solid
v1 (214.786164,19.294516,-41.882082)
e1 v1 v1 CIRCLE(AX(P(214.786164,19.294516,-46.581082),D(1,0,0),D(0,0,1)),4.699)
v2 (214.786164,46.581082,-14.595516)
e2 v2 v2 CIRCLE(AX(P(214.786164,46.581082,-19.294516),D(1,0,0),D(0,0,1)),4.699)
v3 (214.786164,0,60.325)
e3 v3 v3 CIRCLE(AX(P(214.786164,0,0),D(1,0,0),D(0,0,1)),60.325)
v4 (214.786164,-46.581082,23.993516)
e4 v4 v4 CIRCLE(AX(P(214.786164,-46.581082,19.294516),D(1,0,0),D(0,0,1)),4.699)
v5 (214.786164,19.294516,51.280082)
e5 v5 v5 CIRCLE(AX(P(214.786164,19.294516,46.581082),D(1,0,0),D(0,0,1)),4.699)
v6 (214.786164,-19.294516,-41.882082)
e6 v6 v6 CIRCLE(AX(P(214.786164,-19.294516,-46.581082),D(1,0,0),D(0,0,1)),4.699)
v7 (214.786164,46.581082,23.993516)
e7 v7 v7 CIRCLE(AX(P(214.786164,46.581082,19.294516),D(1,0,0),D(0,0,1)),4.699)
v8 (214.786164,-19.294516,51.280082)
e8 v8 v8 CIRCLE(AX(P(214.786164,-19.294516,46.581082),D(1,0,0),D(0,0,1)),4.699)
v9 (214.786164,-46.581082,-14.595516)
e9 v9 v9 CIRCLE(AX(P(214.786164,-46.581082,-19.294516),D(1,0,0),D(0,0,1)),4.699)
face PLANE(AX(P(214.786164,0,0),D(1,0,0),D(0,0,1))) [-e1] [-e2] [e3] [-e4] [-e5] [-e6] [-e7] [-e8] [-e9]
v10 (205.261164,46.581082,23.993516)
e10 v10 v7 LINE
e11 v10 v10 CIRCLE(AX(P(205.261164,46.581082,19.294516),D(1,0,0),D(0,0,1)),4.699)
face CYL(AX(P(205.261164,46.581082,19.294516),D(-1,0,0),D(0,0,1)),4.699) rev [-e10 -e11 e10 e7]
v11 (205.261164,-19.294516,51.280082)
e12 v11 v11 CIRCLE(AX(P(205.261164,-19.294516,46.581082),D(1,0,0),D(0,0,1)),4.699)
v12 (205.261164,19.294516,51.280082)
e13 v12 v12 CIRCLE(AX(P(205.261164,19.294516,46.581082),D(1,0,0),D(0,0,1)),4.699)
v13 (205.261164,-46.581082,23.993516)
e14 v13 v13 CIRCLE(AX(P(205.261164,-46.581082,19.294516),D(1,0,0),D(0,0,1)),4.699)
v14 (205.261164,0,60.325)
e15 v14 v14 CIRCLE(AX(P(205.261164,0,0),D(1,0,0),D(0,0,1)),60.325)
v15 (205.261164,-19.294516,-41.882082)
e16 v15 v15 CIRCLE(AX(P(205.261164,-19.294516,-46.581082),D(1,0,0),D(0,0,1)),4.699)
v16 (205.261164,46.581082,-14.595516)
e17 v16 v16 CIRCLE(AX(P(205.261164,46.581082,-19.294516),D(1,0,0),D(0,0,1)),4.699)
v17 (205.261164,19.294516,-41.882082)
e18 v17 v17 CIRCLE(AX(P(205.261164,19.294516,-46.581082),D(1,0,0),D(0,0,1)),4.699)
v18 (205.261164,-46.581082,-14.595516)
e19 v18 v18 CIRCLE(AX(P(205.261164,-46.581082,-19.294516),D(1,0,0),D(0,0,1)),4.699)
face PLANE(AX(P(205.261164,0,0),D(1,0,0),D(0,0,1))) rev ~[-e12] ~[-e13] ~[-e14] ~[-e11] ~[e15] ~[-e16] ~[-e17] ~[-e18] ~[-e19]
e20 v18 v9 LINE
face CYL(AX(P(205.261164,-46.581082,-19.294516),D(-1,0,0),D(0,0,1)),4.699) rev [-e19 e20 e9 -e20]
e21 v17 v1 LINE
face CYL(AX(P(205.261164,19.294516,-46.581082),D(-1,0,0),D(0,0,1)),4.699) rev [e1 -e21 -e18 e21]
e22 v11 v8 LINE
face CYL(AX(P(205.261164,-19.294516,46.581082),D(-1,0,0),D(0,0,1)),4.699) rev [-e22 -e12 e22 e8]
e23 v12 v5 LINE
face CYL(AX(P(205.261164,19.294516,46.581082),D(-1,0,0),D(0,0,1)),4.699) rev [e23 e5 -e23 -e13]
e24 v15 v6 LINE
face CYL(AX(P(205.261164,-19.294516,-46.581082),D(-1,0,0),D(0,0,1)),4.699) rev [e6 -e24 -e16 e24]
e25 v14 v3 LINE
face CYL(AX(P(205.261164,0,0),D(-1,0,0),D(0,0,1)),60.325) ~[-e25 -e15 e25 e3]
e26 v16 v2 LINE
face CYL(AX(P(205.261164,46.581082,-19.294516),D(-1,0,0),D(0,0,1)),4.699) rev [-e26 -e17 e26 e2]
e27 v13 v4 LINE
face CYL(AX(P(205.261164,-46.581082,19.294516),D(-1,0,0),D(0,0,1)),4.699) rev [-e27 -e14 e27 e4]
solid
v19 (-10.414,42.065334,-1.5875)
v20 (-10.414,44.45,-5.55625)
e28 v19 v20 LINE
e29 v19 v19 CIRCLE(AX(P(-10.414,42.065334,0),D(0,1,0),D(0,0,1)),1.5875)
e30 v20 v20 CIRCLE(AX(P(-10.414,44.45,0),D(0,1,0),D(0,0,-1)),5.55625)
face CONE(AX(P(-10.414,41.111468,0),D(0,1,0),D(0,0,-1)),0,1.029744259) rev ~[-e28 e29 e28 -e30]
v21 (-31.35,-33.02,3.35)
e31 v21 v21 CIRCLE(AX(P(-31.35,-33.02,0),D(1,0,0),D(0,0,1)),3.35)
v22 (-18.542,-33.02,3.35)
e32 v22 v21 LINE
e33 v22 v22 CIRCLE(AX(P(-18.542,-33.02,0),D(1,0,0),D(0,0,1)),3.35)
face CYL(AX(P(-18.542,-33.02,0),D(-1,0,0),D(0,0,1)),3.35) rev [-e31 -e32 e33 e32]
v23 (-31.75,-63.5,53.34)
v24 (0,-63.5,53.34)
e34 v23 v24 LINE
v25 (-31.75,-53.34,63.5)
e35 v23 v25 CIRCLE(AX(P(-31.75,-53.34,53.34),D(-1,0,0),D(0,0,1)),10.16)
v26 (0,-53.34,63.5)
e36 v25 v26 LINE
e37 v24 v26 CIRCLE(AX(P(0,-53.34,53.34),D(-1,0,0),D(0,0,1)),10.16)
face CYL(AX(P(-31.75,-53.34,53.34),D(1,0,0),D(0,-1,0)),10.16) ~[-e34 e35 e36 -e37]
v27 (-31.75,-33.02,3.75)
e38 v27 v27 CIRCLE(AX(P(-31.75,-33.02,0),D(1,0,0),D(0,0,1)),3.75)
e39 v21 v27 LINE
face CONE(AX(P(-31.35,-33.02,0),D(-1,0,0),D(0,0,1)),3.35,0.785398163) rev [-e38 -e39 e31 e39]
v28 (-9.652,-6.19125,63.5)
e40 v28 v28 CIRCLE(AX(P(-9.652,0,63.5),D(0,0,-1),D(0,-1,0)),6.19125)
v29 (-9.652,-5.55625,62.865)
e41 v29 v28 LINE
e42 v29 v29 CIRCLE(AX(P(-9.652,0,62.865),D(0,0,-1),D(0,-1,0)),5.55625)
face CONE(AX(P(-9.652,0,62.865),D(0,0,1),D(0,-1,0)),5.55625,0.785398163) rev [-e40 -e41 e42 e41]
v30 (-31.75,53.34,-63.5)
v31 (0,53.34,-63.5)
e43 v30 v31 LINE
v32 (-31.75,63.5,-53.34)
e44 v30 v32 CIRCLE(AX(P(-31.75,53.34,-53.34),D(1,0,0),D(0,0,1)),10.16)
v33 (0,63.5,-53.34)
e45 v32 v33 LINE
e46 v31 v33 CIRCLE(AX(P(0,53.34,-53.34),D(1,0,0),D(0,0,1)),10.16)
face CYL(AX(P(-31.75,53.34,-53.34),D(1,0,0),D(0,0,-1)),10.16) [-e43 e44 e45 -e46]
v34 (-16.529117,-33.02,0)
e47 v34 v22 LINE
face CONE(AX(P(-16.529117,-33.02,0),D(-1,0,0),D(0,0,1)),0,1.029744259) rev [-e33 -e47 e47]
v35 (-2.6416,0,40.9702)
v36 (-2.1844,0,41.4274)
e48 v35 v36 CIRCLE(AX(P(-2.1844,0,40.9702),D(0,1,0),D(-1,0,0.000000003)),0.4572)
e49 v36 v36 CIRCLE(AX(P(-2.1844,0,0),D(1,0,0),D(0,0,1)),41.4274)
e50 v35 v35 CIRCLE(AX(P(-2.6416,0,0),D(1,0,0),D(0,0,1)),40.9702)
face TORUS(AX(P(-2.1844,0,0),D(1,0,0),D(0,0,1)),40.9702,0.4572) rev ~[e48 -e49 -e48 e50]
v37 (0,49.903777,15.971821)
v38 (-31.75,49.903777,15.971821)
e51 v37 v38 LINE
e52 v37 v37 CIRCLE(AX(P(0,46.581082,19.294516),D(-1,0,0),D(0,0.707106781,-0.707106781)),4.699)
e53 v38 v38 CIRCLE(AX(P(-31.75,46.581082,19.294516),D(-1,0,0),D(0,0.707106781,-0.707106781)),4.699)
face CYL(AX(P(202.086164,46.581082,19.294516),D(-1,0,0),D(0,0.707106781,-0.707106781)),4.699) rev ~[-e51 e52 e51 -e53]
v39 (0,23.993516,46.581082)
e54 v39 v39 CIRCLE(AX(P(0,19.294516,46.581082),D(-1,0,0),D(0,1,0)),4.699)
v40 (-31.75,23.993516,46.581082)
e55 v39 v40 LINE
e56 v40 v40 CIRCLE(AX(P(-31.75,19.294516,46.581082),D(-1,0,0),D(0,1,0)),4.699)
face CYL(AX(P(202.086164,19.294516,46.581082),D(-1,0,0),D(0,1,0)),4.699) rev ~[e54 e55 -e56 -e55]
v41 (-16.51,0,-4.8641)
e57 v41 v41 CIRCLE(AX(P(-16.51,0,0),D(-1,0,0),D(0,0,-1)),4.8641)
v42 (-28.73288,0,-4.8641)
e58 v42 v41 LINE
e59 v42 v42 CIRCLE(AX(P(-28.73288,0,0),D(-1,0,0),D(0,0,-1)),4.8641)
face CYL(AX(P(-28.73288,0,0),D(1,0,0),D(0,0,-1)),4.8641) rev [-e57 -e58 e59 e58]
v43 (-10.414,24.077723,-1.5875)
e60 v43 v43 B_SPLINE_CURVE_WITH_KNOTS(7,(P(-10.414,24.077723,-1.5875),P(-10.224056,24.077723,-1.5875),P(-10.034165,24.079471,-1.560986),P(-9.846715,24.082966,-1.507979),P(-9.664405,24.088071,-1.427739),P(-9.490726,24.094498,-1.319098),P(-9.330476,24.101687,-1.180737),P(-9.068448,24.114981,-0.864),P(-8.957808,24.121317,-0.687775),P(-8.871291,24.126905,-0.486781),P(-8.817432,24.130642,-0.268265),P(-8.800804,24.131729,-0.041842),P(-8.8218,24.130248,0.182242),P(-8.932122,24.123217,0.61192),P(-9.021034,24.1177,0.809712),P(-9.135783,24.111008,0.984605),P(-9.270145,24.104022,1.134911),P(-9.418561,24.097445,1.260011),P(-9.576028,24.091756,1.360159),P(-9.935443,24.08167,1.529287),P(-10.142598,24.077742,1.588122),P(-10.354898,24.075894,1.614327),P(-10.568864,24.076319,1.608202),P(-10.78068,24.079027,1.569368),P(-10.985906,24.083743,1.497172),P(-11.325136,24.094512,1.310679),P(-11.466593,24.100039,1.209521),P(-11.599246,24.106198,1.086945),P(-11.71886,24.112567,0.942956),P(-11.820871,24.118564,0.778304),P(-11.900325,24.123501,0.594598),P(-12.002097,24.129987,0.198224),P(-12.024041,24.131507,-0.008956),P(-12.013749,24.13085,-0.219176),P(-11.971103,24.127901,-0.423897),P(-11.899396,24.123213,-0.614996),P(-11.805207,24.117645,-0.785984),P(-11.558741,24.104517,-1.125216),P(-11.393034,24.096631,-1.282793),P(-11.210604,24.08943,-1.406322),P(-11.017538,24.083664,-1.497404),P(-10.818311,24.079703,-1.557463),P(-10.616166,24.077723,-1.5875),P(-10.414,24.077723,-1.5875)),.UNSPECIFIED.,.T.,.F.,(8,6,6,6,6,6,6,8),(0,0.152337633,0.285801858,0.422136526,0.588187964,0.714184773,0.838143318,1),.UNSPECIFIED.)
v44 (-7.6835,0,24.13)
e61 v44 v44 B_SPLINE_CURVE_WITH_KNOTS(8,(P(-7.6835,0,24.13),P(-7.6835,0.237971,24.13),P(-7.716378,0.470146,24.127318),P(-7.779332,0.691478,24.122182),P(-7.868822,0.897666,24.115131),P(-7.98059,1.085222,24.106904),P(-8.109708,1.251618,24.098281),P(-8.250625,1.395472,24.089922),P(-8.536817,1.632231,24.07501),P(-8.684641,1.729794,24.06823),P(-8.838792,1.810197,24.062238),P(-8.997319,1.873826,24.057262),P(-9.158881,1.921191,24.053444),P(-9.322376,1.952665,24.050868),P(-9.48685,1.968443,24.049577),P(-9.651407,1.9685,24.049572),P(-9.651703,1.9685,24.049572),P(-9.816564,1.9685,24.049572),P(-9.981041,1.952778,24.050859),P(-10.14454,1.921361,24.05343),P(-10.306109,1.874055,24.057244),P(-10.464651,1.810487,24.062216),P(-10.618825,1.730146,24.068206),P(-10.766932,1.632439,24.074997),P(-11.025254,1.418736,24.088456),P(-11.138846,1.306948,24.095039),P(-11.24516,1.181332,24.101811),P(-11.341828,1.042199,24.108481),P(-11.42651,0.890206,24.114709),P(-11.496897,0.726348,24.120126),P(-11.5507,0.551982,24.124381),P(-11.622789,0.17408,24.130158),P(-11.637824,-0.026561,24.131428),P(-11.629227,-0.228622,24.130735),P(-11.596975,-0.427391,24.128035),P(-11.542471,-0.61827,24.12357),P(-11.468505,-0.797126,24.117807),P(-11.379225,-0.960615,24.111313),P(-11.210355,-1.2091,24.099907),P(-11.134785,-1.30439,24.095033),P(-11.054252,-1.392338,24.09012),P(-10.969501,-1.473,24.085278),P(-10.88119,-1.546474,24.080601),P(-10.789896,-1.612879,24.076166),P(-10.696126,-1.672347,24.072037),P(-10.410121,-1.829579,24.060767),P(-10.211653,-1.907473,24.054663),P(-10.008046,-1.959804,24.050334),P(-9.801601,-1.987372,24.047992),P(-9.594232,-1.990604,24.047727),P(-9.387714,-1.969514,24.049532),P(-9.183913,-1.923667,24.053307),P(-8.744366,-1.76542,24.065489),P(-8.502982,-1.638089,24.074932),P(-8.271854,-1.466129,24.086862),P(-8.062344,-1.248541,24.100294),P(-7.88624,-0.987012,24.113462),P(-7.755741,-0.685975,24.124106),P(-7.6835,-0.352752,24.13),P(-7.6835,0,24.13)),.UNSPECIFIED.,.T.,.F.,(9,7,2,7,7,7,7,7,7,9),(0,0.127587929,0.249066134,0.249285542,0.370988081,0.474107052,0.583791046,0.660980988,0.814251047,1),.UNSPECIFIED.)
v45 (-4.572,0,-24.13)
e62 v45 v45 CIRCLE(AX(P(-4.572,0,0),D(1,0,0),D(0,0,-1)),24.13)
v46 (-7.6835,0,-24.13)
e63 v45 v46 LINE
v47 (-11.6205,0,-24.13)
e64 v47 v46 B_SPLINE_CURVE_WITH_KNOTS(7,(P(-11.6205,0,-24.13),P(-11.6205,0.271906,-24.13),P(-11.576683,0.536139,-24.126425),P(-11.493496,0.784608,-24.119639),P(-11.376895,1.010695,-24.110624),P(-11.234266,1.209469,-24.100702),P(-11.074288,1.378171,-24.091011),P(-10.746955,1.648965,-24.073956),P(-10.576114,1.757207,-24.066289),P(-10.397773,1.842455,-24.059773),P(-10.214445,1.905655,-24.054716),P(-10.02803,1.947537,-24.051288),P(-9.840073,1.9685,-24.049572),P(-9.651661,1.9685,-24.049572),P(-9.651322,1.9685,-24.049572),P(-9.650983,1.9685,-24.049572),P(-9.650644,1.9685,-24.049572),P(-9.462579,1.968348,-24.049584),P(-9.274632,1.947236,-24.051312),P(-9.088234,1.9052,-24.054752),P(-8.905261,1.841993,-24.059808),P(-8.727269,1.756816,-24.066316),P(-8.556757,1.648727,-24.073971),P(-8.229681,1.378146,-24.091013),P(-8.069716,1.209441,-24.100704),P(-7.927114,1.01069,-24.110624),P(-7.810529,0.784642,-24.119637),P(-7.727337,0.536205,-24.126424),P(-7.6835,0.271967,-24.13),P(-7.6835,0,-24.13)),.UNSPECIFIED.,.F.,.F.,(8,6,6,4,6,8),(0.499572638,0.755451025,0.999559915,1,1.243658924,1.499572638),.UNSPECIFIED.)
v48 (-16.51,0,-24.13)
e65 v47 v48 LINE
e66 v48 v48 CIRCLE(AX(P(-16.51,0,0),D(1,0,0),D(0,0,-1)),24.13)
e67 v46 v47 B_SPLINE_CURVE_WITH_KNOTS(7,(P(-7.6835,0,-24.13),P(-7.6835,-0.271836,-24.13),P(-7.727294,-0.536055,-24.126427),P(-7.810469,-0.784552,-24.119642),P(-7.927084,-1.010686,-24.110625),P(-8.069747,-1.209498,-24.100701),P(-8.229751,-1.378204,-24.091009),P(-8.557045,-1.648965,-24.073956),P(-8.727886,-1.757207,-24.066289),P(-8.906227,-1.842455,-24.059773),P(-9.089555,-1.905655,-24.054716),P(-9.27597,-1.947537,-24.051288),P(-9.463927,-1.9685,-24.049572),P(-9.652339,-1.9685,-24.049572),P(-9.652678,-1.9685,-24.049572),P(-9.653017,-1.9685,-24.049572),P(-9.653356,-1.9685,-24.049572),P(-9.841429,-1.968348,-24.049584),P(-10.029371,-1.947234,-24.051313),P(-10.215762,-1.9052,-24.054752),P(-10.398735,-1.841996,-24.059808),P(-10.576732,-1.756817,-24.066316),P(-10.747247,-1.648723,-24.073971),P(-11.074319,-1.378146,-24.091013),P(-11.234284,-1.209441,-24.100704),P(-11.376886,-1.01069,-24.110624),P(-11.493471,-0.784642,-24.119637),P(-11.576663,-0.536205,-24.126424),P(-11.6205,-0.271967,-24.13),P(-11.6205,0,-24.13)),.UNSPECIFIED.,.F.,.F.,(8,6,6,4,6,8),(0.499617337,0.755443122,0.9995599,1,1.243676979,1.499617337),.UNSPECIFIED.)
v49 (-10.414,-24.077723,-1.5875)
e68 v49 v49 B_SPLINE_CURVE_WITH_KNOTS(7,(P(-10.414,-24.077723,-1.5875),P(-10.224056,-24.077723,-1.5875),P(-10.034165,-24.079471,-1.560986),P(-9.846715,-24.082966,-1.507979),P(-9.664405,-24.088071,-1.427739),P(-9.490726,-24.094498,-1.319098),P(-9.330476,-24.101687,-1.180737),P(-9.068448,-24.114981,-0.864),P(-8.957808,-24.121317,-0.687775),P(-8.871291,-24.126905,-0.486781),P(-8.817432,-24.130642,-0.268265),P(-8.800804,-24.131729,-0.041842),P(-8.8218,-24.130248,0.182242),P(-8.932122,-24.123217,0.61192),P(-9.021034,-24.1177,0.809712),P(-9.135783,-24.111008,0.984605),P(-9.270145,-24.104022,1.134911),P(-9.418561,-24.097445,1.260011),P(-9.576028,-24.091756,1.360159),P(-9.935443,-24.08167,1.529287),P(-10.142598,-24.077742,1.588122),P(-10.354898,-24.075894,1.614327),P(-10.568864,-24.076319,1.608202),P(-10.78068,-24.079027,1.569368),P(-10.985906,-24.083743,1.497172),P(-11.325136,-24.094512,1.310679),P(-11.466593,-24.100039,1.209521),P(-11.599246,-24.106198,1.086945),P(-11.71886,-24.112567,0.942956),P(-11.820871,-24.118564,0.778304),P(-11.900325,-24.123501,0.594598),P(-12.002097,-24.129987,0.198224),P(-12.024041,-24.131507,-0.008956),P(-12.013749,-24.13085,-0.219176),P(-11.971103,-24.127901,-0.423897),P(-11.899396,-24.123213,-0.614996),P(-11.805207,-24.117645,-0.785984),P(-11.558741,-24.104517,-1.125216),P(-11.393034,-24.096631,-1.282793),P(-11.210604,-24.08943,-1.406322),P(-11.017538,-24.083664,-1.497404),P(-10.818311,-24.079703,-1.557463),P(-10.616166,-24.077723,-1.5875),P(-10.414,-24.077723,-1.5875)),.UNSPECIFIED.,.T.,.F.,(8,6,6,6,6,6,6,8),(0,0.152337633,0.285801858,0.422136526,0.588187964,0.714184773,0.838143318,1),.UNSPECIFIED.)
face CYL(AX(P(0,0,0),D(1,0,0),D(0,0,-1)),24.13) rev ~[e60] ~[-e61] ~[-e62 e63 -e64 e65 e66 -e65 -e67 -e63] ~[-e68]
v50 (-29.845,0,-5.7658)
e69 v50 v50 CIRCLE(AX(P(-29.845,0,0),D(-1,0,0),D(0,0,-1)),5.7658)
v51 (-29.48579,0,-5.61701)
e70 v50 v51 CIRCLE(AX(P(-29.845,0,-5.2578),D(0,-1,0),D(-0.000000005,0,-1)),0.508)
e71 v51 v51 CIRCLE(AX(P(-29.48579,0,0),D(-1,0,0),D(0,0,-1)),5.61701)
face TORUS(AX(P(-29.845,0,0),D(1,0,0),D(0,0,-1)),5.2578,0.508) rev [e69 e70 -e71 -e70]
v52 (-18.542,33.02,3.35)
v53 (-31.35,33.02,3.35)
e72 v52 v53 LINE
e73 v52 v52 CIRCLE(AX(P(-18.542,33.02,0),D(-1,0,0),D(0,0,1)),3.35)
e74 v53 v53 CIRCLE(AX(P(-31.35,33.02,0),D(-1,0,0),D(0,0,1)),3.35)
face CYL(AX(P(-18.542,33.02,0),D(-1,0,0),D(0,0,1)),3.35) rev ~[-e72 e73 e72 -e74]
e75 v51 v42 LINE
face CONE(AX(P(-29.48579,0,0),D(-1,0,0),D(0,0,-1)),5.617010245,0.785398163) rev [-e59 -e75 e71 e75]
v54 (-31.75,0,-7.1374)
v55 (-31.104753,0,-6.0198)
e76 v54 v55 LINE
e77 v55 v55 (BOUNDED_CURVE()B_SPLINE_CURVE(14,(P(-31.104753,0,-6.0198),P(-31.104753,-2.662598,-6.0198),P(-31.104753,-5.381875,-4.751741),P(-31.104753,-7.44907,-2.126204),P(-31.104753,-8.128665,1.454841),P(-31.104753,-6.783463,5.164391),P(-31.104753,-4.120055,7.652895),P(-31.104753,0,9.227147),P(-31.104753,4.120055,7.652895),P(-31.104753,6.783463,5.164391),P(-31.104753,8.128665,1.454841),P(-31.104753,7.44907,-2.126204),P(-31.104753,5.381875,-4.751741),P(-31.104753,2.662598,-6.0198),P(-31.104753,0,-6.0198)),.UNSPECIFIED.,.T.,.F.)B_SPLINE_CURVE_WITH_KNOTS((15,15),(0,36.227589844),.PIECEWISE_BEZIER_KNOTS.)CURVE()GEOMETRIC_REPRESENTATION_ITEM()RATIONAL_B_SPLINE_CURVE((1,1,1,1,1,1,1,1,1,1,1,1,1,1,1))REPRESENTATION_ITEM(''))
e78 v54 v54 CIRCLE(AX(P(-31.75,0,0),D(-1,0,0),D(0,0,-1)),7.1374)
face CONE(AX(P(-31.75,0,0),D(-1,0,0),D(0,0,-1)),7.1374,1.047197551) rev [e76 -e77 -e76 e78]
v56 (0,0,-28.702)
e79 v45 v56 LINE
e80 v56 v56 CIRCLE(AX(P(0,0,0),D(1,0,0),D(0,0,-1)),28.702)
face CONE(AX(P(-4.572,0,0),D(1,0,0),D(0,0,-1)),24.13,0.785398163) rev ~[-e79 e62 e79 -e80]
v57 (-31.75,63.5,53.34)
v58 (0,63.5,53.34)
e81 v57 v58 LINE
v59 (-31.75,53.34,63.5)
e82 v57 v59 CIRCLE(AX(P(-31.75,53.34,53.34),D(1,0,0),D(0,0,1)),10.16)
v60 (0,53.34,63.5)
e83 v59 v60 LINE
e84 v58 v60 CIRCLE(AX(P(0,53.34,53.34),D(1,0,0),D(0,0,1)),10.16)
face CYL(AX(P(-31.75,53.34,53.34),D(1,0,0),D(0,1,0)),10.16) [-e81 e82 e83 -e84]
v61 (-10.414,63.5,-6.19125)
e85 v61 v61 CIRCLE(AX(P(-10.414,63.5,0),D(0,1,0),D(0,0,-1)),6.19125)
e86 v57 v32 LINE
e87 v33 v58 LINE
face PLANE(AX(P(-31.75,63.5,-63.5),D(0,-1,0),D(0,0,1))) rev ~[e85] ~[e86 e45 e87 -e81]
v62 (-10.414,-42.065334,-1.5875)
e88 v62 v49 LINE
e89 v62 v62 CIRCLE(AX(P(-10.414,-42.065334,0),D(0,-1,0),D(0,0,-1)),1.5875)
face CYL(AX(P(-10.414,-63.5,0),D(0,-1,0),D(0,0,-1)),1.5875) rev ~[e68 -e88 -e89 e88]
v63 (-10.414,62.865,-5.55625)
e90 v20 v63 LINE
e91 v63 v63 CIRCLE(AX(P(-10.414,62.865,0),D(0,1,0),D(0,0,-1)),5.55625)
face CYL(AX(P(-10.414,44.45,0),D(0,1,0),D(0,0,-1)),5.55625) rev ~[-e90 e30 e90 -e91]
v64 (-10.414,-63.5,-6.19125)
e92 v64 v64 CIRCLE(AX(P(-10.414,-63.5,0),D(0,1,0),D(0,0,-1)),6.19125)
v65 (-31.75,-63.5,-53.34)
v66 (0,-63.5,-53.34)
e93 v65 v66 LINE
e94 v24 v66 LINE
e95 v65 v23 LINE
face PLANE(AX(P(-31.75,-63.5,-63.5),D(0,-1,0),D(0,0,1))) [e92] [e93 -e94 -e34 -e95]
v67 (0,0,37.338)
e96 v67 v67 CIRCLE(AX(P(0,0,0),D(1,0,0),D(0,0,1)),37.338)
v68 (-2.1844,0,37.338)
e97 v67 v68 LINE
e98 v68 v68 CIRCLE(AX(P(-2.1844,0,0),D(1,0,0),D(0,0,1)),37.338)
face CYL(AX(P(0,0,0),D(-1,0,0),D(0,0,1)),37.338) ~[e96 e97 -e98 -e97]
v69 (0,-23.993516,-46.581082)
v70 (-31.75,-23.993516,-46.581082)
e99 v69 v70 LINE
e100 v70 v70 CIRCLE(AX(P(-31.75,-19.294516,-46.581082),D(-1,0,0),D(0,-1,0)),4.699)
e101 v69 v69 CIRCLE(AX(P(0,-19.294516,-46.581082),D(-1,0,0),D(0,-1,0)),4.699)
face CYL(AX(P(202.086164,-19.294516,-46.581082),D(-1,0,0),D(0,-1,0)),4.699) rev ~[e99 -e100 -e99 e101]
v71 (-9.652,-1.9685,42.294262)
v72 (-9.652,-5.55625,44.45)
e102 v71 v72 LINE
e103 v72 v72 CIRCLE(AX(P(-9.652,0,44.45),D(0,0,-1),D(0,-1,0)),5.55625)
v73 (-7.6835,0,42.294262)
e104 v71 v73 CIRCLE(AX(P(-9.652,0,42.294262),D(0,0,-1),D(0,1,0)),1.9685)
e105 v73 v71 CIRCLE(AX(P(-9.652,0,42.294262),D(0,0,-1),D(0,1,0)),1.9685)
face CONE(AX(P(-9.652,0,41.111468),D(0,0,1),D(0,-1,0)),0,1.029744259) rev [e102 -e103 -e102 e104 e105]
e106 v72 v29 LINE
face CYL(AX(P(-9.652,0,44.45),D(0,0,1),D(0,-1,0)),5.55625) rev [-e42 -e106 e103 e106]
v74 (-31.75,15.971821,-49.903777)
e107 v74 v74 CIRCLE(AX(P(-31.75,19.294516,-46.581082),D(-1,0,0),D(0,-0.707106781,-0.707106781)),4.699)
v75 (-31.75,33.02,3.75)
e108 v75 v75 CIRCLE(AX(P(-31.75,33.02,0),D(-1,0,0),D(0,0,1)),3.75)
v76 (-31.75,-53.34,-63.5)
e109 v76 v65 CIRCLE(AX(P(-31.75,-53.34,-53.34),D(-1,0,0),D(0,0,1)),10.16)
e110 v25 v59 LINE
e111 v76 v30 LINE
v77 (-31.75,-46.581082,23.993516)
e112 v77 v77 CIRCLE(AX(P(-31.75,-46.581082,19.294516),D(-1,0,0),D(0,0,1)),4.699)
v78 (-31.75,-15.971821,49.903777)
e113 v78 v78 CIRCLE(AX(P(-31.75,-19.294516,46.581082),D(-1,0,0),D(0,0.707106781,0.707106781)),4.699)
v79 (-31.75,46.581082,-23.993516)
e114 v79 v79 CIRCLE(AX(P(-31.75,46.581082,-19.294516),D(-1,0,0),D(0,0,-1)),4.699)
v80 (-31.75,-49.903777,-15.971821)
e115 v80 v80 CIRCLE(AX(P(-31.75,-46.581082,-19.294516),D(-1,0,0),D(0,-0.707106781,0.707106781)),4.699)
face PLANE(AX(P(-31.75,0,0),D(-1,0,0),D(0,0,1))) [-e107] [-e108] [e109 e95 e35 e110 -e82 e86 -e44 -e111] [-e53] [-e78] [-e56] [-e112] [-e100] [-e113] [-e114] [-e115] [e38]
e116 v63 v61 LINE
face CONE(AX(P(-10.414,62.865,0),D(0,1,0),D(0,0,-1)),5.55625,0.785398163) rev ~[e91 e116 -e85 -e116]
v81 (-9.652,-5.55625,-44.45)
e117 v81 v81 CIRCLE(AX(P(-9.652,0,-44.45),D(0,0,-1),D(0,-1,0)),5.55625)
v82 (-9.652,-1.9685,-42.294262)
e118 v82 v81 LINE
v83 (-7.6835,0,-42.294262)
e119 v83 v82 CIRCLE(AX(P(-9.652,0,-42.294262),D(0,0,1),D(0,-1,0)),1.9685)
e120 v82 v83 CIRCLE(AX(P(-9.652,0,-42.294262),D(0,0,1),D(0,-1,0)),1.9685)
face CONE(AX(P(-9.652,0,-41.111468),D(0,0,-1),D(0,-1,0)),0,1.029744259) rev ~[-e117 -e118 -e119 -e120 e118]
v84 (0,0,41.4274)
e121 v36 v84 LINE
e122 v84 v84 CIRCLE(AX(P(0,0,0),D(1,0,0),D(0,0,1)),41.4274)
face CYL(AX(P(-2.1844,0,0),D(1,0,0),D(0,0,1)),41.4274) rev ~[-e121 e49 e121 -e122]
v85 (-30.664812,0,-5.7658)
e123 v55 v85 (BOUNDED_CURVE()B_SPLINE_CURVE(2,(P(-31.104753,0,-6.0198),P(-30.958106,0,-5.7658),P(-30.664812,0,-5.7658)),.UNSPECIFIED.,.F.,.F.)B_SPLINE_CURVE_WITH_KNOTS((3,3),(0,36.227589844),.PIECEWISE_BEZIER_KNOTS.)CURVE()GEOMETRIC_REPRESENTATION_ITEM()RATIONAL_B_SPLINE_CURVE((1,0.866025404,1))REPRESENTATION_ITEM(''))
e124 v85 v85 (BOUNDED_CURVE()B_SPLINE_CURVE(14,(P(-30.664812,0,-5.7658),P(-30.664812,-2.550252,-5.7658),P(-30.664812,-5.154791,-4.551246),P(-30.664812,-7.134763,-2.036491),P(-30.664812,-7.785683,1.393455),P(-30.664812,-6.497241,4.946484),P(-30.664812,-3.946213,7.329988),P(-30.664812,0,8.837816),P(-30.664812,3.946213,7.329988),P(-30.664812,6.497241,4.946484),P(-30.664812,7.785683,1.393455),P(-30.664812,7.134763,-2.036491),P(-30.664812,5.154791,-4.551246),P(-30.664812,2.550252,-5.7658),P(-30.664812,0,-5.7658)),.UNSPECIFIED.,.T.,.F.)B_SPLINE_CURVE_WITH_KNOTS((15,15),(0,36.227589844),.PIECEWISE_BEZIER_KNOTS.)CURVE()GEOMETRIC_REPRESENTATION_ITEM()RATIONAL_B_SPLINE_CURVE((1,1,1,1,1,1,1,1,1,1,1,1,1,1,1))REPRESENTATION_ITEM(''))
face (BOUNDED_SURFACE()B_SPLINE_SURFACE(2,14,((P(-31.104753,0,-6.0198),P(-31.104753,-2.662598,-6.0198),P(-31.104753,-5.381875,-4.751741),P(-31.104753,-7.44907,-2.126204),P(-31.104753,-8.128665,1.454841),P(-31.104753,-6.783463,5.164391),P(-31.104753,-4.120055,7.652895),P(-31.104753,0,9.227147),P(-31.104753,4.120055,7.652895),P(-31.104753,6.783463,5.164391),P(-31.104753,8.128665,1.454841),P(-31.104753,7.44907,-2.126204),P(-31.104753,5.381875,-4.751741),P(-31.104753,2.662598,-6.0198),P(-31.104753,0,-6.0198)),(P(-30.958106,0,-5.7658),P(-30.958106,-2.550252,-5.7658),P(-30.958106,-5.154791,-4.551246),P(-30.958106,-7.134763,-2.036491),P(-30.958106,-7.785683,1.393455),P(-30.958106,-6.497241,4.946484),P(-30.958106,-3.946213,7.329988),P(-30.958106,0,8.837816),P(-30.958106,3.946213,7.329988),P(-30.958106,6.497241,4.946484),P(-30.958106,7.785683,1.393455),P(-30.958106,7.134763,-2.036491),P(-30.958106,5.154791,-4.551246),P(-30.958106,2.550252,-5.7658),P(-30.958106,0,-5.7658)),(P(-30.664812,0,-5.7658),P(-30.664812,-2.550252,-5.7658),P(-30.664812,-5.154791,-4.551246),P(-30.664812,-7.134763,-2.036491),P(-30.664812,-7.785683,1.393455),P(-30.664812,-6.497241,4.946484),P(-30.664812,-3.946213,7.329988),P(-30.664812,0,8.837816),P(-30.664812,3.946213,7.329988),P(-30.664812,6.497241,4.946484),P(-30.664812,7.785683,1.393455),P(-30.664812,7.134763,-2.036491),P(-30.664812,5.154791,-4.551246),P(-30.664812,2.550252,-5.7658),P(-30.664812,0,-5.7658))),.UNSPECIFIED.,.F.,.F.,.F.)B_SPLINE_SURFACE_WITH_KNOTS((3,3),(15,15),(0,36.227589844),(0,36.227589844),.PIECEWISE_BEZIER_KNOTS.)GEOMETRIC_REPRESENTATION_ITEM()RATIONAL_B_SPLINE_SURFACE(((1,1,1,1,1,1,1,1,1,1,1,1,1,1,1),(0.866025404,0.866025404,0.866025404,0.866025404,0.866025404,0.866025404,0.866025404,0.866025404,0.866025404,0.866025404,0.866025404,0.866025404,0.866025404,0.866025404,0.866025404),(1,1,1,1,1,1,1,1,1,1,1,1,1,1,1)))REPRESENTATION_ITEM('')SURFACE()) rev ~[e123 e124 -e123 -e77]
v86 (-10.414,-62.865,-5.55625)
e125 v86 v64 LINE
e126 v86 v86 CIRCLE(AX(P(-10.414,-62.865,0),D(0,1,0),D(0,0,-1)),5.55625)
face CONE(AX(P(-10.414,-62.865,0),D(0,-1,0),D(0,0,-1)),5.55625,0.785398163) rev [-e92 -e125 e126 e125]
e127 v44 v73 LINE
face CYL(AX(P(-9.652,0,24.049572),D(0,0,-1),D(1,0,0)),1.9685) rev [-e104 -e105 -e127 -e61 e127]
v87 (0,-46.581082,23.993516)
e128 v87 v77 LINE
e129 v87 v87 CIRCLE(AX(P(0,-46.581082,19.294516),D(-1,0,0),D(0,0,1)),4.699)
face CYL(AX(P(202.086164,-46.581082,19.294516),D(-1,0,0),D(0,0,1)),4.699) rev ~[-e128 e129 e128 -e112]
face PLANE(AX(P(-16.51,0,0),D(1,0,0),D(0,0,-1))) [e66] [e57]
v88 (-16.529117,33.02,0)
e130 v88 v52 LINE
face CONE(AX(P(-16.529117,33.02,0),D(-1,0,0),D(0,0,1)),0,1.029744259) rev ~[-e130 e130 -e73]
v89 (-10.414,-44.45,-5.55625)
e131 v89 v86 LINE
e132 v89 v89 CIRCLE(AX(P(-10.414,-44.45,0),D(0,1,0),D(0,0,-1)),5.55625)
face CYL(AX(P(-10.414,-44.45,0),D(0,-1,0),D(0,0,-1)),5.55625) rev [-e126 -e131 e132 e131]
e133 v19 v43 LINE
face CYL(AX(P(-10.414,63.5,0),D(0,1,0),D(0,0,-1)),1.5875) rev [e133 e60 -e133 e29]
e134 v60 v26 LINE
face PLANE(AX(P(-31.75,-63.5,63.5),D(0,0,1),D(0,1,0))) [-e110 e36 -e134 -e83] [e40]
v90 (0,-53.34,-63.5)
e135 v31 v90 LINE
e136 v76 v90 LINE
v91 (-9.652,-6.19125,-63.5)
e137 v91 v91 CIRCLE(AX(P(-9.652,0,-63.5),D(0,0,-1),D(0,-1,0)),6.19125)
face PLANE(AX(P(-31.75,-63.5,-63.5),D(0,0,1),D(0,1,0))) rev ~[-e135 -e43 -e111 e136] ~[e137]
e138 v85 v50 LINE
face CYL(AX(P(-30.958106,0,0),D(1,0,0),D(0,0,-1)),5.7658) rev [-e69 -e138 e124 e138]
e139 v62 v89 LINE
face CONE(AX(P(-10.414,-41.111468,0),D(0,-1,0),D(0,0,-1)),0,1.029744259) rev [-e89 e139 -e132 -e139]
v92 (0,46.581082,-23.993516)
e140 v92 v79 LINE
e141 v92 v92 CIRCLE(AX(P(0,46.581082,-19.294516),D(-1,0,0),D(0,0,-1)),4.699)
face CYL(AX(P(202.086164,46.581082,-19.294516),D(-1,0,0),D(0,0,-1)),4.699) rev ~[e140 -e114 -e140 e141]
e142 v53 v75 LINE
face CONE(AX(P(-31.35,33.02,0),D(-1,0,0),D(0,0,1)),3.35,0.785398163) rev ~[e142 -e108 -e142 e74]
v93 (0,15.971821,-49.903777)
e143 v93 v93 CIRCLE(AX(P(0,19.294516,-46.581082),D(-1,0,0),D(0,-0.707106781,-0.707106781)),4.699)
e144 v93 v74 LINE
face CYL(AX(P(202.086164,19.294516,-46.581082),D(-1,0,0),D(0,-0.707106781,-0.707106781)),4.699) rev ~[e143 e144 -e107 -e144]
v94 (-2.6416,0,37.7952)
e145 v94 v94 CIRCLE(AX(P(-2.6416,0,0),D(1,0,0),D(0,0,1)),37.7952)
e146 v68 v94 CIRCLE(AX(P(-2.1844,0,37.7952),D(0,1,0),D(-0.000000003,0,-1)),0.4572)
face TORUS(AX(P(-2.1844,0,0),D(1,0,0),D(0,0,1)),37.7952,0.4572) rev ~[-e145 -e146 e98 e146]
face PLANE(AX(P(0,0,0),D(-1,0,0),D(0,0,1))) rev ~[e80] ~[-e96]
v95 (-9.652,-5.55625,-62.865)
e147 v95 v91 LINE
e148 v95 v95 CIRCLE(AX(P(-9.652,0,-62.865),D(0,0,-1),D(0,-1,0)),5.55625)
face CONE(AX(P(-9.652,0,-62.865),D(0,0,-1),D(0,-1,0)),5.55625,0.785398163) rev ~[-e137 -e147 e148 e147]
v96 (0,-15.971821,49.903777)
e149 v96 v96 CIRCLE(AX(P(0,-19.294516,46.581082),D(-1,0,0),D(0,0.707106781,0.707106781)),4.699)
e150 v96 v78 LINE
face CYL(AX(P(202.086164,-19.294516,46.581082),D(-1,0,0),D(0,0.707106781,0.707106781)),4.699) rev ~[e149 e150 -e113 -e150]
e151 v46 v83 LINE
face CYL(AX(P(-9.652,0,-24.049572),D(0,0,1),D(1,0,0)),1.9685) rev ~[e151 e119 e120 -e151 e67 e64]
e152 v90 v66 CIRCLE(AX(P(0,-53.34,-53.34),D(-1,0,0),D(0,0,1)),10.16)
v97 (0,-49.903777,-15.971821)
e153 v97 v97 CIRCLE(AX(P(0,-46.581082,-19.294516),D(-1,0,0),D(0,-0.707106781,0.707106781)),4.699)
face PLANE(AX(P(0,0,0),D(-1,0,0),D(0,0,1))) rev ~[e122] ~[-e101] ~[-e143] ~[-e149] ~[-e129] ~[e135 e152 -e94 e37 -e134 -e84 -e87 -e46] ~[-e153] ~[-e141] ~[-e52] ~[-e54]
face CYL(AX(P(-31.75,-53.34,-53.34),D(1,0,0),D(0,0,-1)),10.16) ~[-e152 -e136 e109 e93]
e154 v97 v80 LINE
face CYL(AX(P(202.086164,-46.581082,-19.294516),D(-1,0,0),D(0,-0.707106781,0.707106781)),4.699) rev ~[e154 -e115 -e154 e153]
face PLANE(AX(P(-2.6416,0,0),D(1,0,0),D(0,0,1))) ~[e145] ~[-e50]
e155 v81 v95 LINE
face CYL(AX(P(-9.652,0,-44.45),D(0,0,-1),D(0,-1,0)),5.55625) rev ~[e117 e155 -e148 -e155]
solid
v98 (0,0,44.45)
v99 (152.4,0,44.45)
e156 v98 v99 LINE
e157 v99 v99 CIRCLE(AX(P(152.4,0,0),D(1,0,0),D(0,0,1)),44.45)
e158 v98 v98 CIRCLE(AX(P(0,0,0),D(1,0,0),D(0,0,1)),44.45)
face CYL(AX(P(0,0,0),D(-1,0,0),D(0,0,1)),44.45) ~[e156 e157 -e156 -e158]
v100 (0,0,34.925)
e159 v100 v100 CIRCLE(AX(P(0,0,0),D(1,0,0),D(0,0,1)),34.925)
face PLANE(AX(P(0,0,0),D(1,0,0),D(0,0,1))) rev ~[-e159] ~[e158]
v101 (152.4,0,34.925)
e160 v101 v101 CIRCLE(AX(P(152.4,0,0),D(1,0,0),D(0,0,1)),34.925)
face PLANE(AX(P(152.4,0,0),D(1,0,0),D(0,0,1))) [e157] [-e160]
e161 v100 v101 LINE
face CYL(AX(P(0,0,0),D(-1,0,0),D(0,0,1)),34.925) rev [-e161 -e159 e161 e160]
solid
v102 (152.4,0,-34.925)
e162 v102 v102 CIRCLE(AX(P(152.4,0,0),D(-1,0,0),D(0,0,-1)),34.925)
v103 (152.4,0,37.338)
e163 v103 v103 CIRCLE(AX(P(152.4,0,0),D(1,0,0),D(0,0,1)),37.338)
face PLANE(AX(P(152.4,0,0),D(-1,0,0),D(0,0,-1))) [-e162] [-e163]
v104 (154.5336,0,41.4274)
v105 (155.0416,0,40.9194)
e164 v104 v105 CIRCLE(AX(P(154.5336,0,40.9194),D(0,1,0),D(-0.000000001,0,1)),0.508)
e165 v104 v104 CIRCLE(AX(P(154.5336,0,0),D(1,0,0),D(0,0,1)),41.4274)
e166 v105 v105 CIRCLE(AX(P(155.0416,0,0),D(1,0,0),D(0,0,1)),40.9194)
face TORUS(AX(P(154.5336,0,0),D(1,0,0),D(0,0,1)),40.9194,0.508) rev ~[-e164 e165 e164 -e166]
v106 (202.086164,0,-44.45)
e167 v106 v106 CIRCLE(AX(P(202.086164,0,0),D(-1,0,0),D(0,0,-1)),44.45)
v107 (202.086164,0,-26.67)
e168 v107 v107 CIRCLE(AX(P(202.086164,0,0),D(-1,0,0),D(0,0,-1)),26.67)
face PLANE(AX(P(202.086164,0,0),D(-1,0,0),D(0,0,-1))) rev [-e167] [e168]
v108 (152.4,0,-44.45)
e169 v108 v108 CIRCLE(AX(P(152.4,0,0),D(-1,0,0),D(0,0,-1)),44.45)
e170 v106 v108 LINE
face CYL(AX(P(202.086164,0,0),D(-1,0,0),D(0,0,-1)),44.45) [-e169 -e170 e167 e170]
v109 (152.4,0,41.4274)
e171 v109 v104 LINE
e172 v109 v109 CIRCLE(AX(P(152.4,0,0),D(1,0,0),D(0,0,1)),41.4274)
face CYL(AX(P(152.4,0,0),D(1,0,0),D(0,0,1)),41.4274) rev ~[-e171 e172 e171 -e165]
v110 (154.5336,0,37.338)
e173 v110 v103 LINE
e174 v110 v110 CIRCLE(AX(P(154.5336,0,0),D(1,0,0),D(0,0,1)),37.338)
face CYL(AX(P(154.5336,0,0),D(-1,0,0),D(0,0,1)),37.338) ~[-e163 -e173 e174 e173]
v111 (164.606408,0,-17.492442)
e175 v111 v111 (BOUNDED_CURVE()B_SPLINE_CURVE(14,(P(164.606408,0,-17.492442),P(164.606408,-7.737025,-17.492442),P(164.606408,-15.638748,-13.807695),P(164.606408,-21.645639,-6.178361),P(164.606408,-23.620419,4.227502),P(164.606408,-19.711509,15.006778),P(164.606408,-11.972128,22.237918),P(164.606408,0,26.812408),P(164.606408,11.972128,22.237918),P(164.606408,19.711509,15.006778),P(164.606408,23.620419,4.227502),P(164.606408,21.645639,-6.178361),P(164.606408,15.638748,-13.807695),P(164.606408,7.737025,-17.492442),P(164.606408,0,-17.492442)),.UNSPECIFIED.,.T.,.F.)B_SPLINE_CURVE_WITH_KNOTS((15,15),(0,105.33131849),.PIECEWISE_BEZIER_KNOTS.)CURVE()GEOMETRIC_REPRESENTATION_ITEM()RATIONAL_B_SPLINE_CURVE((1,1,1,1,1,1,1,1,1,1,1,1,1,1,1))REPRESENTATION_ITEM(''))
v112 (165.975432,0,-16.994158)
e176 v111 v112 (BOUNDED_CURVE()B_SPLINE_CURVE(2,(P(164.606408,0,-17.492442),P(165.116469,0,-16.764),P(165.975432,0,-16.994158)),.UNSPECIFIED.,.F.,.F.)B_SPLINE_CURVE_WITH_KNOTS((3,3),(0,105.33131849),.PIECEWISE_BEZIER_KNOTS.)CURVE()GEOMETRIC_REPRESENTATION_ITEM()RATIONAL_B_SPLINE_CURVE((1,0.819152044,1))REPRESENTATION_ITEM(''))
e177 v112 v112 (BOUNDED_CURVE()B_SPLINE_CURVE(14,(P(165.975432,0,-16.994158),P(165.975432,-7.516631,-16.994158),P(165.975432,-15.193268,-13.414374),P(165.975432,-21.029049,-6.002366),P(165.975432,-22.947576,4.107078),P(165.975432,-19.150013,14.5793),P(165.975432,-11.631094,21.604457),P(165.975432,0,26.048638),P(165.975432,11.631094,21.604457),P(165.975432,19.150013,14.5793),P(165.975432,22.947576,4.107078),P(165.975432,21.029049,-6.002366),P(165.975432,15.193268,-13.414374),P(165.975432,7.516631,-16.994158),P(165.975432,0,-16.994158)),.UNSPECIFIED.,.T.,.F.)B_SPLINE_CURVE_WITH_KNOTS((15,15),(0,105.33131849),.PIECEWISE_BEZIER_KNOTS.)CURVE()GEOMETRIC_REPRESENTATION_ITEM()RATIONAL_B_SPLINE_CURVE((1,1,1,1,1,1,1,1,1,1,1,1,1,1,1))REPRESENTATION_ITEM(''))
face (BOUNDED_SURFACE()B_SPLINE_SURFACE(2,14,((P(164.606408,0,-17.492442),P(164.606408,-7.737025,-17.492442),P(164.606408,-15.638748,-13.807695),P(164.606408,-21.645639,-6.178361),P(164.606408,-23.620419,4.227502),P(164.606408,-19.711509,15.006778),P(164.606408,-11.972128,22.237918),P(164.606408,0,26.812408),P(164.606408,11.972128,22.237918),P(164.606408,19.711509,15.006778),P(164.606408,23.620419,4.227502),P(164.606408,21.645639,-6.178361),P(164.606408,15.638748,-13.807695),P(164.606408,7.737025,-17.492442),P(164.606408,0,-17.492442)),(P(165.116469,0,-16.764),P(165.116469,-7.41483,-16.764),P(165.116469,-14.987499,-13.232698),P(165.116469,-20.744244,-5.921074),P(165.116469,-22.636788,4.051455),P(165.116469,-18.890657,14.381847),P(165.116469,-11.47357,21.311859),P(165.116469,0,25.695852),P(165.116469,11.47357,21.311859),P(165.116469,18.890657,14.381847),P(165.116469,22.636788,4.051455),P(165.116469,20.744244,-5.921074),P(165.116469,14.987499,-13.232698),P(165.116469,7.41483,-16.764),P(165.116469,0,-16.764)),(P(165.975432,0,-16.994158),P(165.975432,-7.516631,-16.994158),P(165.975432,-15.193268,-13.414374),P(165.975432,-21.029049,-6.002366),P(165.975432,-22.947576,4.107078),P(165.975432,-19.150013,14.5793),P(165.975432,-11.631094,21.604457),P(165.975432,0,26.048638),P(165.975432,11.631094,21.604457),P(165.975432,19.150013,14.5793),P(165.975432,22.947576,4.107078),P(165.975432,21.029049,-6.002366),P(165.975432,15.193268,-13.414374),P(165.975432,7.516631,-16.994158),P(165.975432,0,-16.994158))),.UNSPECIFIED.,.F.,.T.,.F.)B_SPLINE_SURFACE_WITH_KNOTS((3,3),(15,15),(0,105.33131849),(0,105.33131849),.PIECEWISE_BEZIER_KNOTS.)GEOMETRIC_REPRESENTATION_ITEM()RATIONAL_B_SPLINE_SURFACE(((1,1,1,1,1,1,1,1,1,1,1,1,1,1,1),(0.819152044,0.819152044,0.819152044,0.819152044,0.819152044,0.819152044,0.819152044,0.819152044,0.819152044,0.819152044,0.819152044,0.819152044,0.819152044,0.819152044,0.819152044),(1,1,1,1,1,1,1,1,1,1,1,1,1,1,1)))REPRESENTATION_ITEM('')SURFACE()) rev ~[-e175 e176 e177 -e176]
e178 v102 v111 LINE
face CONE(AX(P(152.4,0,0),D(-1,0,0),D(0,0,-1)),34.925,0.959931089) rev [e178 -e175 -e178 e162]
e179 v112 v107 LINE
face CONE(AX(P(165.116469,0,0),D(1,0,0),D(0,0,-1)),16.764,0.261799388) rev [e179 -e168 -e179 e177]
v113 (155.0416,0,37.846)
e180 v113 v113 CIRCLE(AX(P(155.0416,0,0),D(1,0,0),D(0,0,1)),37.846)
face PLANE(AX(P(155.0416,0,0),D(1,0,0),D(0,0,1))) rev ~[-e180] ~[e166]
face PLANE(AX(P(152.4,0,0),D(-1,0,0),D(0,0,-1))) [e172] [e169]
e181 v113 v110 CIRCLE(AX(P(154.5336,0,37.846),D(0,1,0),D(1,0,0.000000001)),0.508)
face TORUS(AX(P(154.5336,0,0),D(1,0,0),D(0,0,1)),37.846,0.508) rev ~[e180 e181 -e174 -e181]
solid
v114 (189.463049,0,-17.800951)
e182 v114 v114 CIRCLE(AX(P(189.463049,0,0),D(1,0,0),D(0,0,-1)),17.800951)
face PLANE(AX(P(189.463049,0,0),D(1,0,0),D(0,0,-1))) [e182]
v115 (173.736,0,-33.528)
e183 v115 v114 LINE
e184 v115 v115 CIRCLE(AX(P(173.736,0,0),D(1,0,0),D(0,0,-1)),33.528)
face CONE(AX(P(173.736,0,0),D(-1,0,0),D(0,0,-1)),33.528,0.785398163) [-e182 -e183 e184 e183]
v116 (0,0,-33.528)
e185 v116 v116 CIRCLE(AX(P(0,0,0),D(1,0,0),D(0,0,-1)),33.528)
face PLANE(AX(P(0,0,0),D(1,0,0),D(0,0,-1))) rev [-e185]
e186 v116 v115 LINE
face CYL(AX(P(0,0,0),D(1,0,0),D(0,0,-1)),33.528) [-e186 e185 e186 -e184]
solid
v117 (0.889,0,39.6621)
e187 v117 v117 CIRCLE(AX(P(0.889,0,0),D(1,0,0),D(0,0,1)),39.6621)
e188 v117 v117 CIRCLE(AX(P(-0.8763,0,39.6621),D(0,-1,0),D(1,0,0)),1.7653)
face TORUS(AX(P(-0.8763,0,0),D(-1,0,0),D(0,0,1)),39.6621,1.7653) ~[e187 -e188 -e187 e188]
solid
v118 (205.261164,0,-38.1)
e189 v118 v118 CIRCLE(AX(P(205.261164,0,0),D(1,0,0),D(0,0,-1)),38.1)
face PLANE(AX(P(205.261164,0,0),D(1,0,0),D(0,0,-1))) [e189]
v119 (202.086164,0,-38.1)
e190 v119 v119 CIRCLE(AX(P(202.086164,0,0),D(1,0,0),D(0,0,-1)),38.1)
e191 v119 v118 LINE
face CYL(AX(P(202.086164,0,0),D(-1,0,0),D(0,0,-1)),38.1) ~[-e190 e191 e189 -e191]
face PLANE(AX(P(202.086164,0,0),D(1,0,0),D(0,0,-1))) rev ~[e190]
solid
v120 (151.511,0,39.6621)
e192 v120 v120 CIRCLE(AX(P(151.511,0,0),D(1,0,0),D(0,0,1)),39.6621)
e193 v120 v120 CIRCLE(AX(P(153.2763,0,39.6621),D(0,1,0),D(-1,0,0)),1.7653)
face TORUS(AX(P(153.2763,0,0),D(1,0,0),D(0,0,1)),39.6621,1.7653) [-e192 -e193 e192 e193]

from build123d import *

# Parameters (mm, degrees)
FILLET1_R               = 1.27
CUT_EXTRUDE1_REACH      = 246.555
SKETCH2_R               = 3.81
CIRPATTERN1_COUNT       = 8
SKETCH4_R               = 63.5
BOSS_EXTRUDE1_DEPTH     = 31.75
SKETCH11_W              = 127
SKETCH11_H              = 127
BOSS_EXTRUDE2_DEPTH     = 31.75
SKETCH12_R              = 24.13
CUT_EXTRUDE4_DEPTH      = 16.51
CUT_EXTRUDE5_START      = -39.450428
SKETCH13_R              = 1.9685
CUT_EXTRUDE5_DEPTH      = 39.450428
CHAMFER1_SIZE           = 4.572
FILLET2_R               = 0.889
FILLET3_R               = 0.508
CUT_EXTRUDE9_REACH      = 270.149
CUT_EXTRUDE9_END_RADIUS = 24.13
SKETCH31_R              = 1.5875
SKETCH33_R              = 44.45
SKETCH33_R_2            = 34.925
BOSS_EXTRUDE4_DEPTH     = 152.4
FILLET5_R               = 1.27
FILLET6_R               = 10.16
SKETCH39_R              = 60.325
SKETCH39_R_2            = 36.195
BOSS_EXTRUDE6_DEPTH     = 9.525
SKETCH40_R              = 4.699
CUT_EXTRUDE13_DEPTH     = 251.487228873
CIRPATTERN3_COUNT       = 8
SKETCH44_R              = 1.7653
SKETCH46_R              = 38.1
BOSS_EXTRUDE7_DEPTH     = 3.175
SKETCH47_R              = 60.325
SKETCH47_R_2            = 4.699
BOSS_EXTRUDE8_DEPTH     = 9.525


with BuildPart() as part:
    # Chamber Revolve → Revolve1 (revolve)
    with BuildSketch(Plane.XY, mode=Mode.PRIVATE) as revolve1_sk:
        with BuildLine():
            Line((227.4696953, 63.5), (227.4696953, 26.67))
            Line((227.4696953, 26.67), (191.916500941, 17.143550283))
            ThreePointArc((191.916500941, 17.143550283), (190.601700192, 17.143550283), (189.463049342, 17.800950658))
            Line((189.463049342, 17.800950658), (173.736, 33.528))
            Line((173.736, 33.528), (0, 33.528))
            Line((0, 33.528), (0, 42.164))
            Line((0, 42.164), (3.8608, 42.164))
            Line((3.8608, 42.164), (3.8608, 48.2346))
            Line((3.8608, 48.2346), (0, 48.2346))
            Line((0, 48.2346), (0, 63.5))
            Line((0, 63.5), (10.16, 63.5))
            Line((10.16, 63.5), (10.16, 47.244))
            Line((10.16, 47.244), (24.13, 47.244))
            Line((24.13, 47.244), (24.13, 63.5))
            Line((24.13, 63.5), (227.4696953, 63.5))
        make_face()
    revolve(revolve1_sk.sketch.rotate(Axis((0, 0, 0), (1, 0, 0)), 90), axis=Axis((0, 0, 0), (1, 0, 0)))

    # Fillet1
    fillet1_edges = [part.edges().sort_by_distance(p)[0] for p in [
        (24.13, 0, -47.244),
        (10.16, 0, -47.244),
    ]]
    fillet(fillet1_edges, radius=FILLET1_R)

    # Sketch2 → Cut-Extrude1 (cut, up to next)
    with BuildSketch(Plane.ZY, mode=Mode.PRIVATE) as cut_extrude1_sk1:
        with Locations((-21.773156568, 52.565049882)):
            Circle(SKETCH2_R)
    cut_extrude1_tool1 = extrude(cut_extrude1_sk1.sketch, amount=-CUT_EXTRUDE1_REACH, mode=Mode.PRIVATE) & part.part
    cut_extrude1 = cut_extrude1_tool1.solids().sort_by_distance((0, 52.56505, -21.773157))[0]
    add(cut_extrude1, mode=Mode.SUBTRACT)

    # CirPattern1: Cut-Extrude1 ×8 about axis
    cirpattern1_axis = Axis((0, 0, 0), (1, 0, 0))
    for i in range(1, CIRPATTERN1_COUNT):
        add(cut_extrude1.rotate(cirpattern1_axis, i * 360 / CIRPATTERN1_COUNT), mode=Mode.SUBTRACT)

    # Fillet2
    fillet2_edges = [part.edges().sort_by_distance(p)[0] for p in [
        (3.8608, 0, -42.164),
        (3.8608, 0, -48.2346),
    ]]
    fillet(fillet2_edges, radius=FILLET2_R)


with BuildPart() as body_2:
    # Sketch4 → Boss-Extrude1 (new body)
    with BuildSketch(Plane.ZY):
        Circle(SKETCH4_R)
    extrude(amount=BOSS_EXTRUDE1_DEPTH)

    # Sketch11 → Boss-Extrude2 (add)
    with BuildSketch(Plane.ZY.offset(31.75)):
        Rectangle(SKETCH11_W, SKETCH11_H)
    extrude(amount=-BOSS_EXTRUDE2_DEPTH)

    # Sketch12 → Cut-Extrude4 (cut)
    with BuildSketch(Plane(origin=(0, 0, 0), x_dir=(0, 0, -1), z_dir=(1, 0, 0))):
        Circle(SKETCH12_R)
    extrude(amount=-CUT_EXTRUDE4_DEPTH, mode=Mode.SUBTRACT)

    # Sketch13 → Cut-Extrude5 (cut)
    with BuildSketch(Plane.XY.offset(63.5).offset(CUT_EXTRUDE5_START)):
        with Locations((-9.652, 0)):
            Circle(SKETCH13_R)
    cut_extrude5 = extrude(amount=CUT_EXTRUDE5_DEPTH, mode=Mode.SUBTRACT)

    # Chamfer1
    chamfer1_edges = [body_2.edges().sort_by_distance(p)[0] for p in [
        (0, 0, 24.13),
    ]]
    chamfer(chamfer1_edges, length=CHAMFER1_SIZE)

    # Sketch20 → 7/16 (0.4375) Diameter Hole1 (revolve, cut)
    with BuildSketch(Plane(origin=(-9.652, 0, 63.5), x_dir=(0, -1, 0), z_dir=(1, 0, 0))):
        Polygon((0, 0), (0, 22.388531814), (5.55625, 19.05), (5.55625, 0.635), (6.19125, 0), align=None)
    f_7_16_0_4375_diameter_hole1 = revolve(axis=Axis((-9.652, 0, 69.85), (0, 0, -1)), mode=Mode.SUBTRACT)

    # Mirror1: Cut-Extrude5, 7/16 (0.4375) Diameter Hole1 across plane
    add(cut_extrude5.mirror(Plane.XY), mode=Mode.SUBTRACT)
    add(f_7_16_0_4375_diameter_hole1.mirror(Plane.XY), mode=Mode.SUBTRACT)

    # Sketch23 → Ø6.7 (6.7) Diameter Hole1 (revolve, cut)
    with BuildSketch(Plane(origin=(-31.75, -33.02, 0), x_dir=(0, 0, 1), z_dir=(0, 1, 0))):
        Polygon((0, 0), (0, 15.220883074), (3.35, 13.208), (3.35, 0.4), (3.75, 0), align=None)
    f_6_7_6_7_diameter_hole1 = revolve(axis=Axis((-38.1, -33.02, 0), (1, 0, 0)), mode=Mode.SUBTRACT)

    # Mirror2: Ø6.7 (6.7) Diameter Hole1 across plane
    add(f_6_7_6_7_diameter_hole1.mirror(Plane.ZX), mode=Mode.SUBTRACT)

    # Sketch24 → Cut-Revolve1 (revolve, cut)
    with BuildSketch(Plane(origin=(0, 0, 0), x_dir=(1, 0, 0), z_dir=(0, 1, 0))):
        with BuildLine():
            Line((-31.75, 7.1374), (-30.958106371, 5.7658))
            Line((-30.958106371, 5.7658), (-29.845, 5.7658))
            ThreePointArc((-29.845, 5.7658), (-29.650596816, 5.727130803), (-29.485789755, 5.617010245))
            Line((-29.485789755, 5.617010245), (-28.73287951, 4.8641))
            Line((-28.73287951, 4.8641), (-16.51, 4.8641))
            Line((-16.51, 4.8641), (-16.51, 0))
            Line((-16.51, 0), (-31.75, 0))
            Line((-31.75, 0), (-31.75, 7.1374))
        make_face()
    revolve(axis=Axis((227.4696953, 0, 0), (-1, 0, 0)), mode=Mode.SUBTRACT)

    # Fillet3
    fillet3_edges = [body_2.edges().sort_by_distance(p)[0] for p in [
        (-30.958106371, 0, 5.7658),
    ]]
    fillet(fillet3_edges, radius=FILLET3_R)

    # Sketch30 → 7/16 (0.4375) Diameter Hole2 (revolve, cut)
    with BuildSketch(Plane(origin=(-10.414, -63.5, 0), x_dir=(0, 0, -1), z_dir=(1, 0, 0))):
        Polygon((0, 0), (0, 22.388531814), (5.55625, 19.05), (5.55625, 0.635), (6.19125, 0), align=None)
    f_7_16_0_4375_diameter_hole2 = revolve(axis=Axis((-10.414, -69.85, 0), (0, 1, 0)), mode=Mode.SUBTRACT)

    # Cut-Extrude9: up to this cylinder (the profile starts outside it)
    cut_extrude9_end = Plane(origin=(-10.414, 0, 0), z_dir=(1, 0, 0)) * Cylinder(CUT_EXTRUDE9_END_RADIUS, 589.558, mode=Mode.PRIVATE)
    # Sketch31 → Cut-Extrude9 (cut, up to the surface)
    with BuildSketch(Plane.XZ.offset(63.5), mode=Mode.PRIVATE) as cut_extrude9_sk1:
        with Locations(Location((-10.414, 0, 0), (0, 0, 270))):
            Circle(SKETCH31_R)
    cut_extrude9_tool1 = extrude(cut_extrude9_sk1.sketch, amount=-CUT_EXTRUDE9_REACH, mode=Mode.PRIVATE) - cut_extrude9_end
    cut_extrude9 = cut_extrude9_tool1.solids().sort_by_distance((-10.414, -63.5, 0))[0]
    add(cut_extrude9, mode=Mode.SUBTRACT)

    # Mirror3: 7/16 (0.4375) Diameter Hole2, Cut-Extrude9 across plane
    add(f_7_16_0_4375_diameter_hole2.mirror(Plane.ZX), mode=Mode.SUBTRACT)
    add(cut_extrude9.mirror(Plane.ZX), mode=Mode.SUBTRACT)

    # Fillet6
    fillet6_edges = [body_2.edges().sort_by_distance(p)[0] for p in [
        (-15.875, -63.5, 63.5),
        (-15.875, 63.5, 63.5),
        (-15.875, -63.5, -63.5),
        (-15.875, 63.5, -63.5),
    ]]
    fillet(fillet6_edges, radius=FILLET6_R)


with BuildPart() as body_3:
    # Sketch21 → Revolve2 (revolve)
    with BuildSketch(Plane(origin=(0, 0, 0), x_dir=(1, 0, 0), z_dir=(0, 1, 0))):
        Polygon((0, 33.528), (173.736, 33.528), (189.463049342, 17.800950658), (189.463049342, 0), (0, 0), align=None)
    revolve(axis=Axis((189.463049342, 0, 0), (1, 0, 0)))


with BuildPart() as body_3_2:
    # Sketch33 → Boss-Extrude4 (new body)
    with BuildSketch(Plane(origin=(0, 0, 0), x_dir=(0, 0, -1), z_dir=(1, 0, 0))):
        with Locations(Location((0, 0, 0), (0, 0, 180))):
            Circle(SKETCH33_R)
        with Locations(Location((0, 0, 0), (0, 0, 180))):
            Circle(SKETCH33_R_2, mode=Mode.SUBTRACT)
    extrude(amount=BOSS_EXTRUDE4_DEPTH)


with BuildPart() as body_4:
    # Sketch34 → Revolve3 (revolve)
    with BuildSketch(Plane.XY, mode=Mode.PRIVATE) as revolve3_sk:
        Polygon((152.4, 44.45), (152.4, 34.925), (165.116469101, 16.764), (202.086164401, 26.67), (202.086164401, 44.45), align=None)
    revolve(revolve3_sk.sketch.rotate(Axis((152.4, 0, 0), (-1, 0, 0)), 90), axis=Axis((152.4, 0, 0), (-1, 0, 0)))

    # Fillet5
    fillet5_edges = [body_4.edges().sort_by_distance(p)[0] for p in [
        (165.116469101, 0, 16.764),
    ]]
    fillet(fillet5_edges, radius=FILLET5_R)

    # Sketch45 → Cut-Revolve3 (revolve, cut)
    with BuildSketch(Plane.XY, mode=Mode.PRIVATE) as cut_revolve3_sk:
        with BuildLine():
            Line((152.4, 41.4274), (154.5336, 41.4274))
            ThreePointArc((154.5336, 41.4274), (154.892810245, 41.278610245), (155.0416, 40.9194))
            Line((155.0416, 40.9194), (155.0416, 37.846))
            ThreePointArc((155.0416, 37.846), (154.892810245, 37.486789755), (154.5336, 37.338))
            Line((154.5336, 37.338), (152.4, 37.338))
            Line((152.4, 37.338), (152.4, 41.4274))
        make_face()
    revolve(cut_revolve3_sk.sketch.rotate(Axis((0, 0, 0), (1, 0, 0)), 90), axis=Axis((0, 0, 0), (1, 0, 0)), mode=Mode.SUBTRACT)


with BuildPart() as body_5:
    # Sketch39 → Boss-Extrude6 (new body)
    with BuildSketch(Plane(origin=(202.086164401, 0, 0), x_dir=(0, 0, -1), z_dir=(1, 0, 0))):
        with Locations(Location((0, 0, 0), (0, 0, 180))):
            Circle(SKETCH39_R)
        with Locations(Location((0, 0, 0), (0, 0, 180))):
            Circle(SKETCH39_R_2, mode=Mode.SUBTRACT)
    extrude(amount=BOSS_EXTRUDE6_DEPTH)


with BuildPart() as cut_extrude13_tool:
    # Sketch40 → Cut-Extrude13 (new, symmetric)
    with BuildSketch(Plane.ZY.offset(-202.086164401)):
        with Locations(Location((-19.294515976, 46.58108215, 0), (0, 0, 180))):
            Circle(SKETCH40_R)
    cut_extrude13 = extrude(amount=CUT_EXTRUDE13_DEPTH, both=True)


with BuildPart() as body_2_1:
    add(body_2.part)

    # Cut-Extrude13: cut by cut_extrude13_tool
    add(cut_extrude13_tool.part, mode=Mode.SUBTRACT)


with BuildPart() as body_5_1:
    add(body_5.part)

    # Cut-Extrude13: cut by cut_extrude13_tool
    add(cut_extrude13_tool.part, mode=Mode.SUBTRACT)


with BuildPart() as cirpattern3_tool:
    # CirPattern3: Cut-Extrude13 ×8 about axis
    cirpattern3_axis = Axis((0, 0, 0), (1, 0, 0))
    for i in range(1, CIRPATTERN3_COUNT):
        add(cut_extrude13.rotate(cirpattern3_axis, i * 360 / CIRPATTERN3_COUNT))


with BuildPart() as body_2_2:
    add(body_2_1.part)

    # CirPattern3: cut by cirpattern3_tool
    add(cirpattern3_tool.part, mode=Mode.SUBTRACT)

    # Sketch41 → Cut-Revolve2 (revolve, cut)
    with BuildSketch(Plane.XY, mode=Mode.PRIVATE) as cut_revolve2_sk:
        with BuildLine():
            Line((0, 37.338), (-2.1844, 37.338))
            ThreePointArc((-2.1844, 37.338), (-2.50768922, 37.47191078), (-2.6416, 37.7952))
            Line((-2.6416, 37.7952), (-2.6416, 40.9702))
            ThreePointArc((-2.6416, 40.9702), (-2.50768922, 41.29348922), (-2.1844, 41.4274))
            Line((-2.1844, 41.4274), (0, 41.4274))
            Line((0, 41.4274), (0, 37.338))
        make_face()
    revolve(cut_revolve2_sk.sketch.rotate(Axis((0, 0, 0), (1, 0, 0)), 90), axis=Axis((0, 0, 0), (1, 0, 0)), mode=Mode.SUBTRACT)


with BuildPart() as body_5_2:
    add(body_5_1.part)

    # CirPattern3: cut by cirpattern3_tool
    add(cirpattern3_tool.part, mode=Mode.SUBTRACT)


with BuildPart() as body_6:
    # Sketch44 → Revolve4 (revolve)
    with BuildSketch(Plane.XY, mode=Mode.PRIVATE) as revolve4_sk:
        with Locations((-0.8763, 39.6621)):
            Circle(SKETCH44_R)
    revolve(revolve4_sk.sketch.rotate(Axis((0, 0, 0), (1, 0, 0)), 90), axis=Axis((0, 0, 0), (1, 0, 0)))


with BuildPart() as body_7:
    # Mirror9: mirrored copy
    add(body_6.part.mirror(Plane(origin=(76.2, 0, 0), x_dir=(0, 0, 1), z_dir=(1, 0, 0))))


with BuildPart() as body_7_2:
    # Sketch46 → Boss-Extrude7 (new body)
    with BuildSketch(Plane(origin=(202.086164401, 0, 0), x_dir=(0, 0, -1), z_dir=(1, 0, 0))):
        Circle(SKETCH46_R)
    extrude(amount=BOSS_EXTRUDE7_DEPTH)


with BuildPart() as body_8:
    # Sketch47 → Boss-Extrude8 (new body)
    with BuildSketch(Plane(origin=(205.261164401, 0, 0), x_dir=(0, 0, -1), z_dir=(1, 0, 0))):
        with Locations(Location((0, 0, 0), (0, 0, 180))):
            Circle(SKETCH47_R)
        with Locations(Location((-46.58108215, 19.294515976, 0), (0, 0, 180))):
            Circle(SKETCH47_R_2, mode=Mode.SUBTRACT)
        with Locations(Location((-46.58108215, -19.294515976, 0), (0, 0, 180))):
            Circle(SKETCH47_R_2, mode=Mode.SUBTRACT)
        with Locations(Location((-19.294515976, -46.58108215, 0), (0, 0, 180))):
            Circle(SKETCH47_R_2, mode=Mode.SUBTRACT)
        with Locations(Location((19.294515976, -46.58108215, 0), (0, 0, 180))):
            Circle(SKETCH47_R_2, mode=Mode.SUBTRACT)
        with Locations(Location((46.58108215, -19.294515976, 0), (0, 0, 180))):
            Circle(SKETCH47_R_2, mode=Mode.SUBTRACT)
        with Locations(Location((46.58108215, 19.294515976, 0), (0, 0, 180))):
            Circle(SKETCH47_R_2, mode=Mode.SUBTRACT)
        with Locations(Location((19.294515976, 46.58108215, 0), (0, 0, 180))):
            Circle(SKETCH47_R_2, mode=Mode.SUBTRACT)
        with Locations(Location((-19.294515976, 46.58108215, 0), (0, 0, 180))):
            Circle(SKETCH47_R_2, mode=Mode.SUBTRACT)
    extrude(amount=BOSS_EXTRUDE8_DEPTH)


solid = Compound([body_3.part, body_3_2.part, body_4.part, body_2_2.part, body_6.part, body_7.part, body_7_2.part, body_8.part])
